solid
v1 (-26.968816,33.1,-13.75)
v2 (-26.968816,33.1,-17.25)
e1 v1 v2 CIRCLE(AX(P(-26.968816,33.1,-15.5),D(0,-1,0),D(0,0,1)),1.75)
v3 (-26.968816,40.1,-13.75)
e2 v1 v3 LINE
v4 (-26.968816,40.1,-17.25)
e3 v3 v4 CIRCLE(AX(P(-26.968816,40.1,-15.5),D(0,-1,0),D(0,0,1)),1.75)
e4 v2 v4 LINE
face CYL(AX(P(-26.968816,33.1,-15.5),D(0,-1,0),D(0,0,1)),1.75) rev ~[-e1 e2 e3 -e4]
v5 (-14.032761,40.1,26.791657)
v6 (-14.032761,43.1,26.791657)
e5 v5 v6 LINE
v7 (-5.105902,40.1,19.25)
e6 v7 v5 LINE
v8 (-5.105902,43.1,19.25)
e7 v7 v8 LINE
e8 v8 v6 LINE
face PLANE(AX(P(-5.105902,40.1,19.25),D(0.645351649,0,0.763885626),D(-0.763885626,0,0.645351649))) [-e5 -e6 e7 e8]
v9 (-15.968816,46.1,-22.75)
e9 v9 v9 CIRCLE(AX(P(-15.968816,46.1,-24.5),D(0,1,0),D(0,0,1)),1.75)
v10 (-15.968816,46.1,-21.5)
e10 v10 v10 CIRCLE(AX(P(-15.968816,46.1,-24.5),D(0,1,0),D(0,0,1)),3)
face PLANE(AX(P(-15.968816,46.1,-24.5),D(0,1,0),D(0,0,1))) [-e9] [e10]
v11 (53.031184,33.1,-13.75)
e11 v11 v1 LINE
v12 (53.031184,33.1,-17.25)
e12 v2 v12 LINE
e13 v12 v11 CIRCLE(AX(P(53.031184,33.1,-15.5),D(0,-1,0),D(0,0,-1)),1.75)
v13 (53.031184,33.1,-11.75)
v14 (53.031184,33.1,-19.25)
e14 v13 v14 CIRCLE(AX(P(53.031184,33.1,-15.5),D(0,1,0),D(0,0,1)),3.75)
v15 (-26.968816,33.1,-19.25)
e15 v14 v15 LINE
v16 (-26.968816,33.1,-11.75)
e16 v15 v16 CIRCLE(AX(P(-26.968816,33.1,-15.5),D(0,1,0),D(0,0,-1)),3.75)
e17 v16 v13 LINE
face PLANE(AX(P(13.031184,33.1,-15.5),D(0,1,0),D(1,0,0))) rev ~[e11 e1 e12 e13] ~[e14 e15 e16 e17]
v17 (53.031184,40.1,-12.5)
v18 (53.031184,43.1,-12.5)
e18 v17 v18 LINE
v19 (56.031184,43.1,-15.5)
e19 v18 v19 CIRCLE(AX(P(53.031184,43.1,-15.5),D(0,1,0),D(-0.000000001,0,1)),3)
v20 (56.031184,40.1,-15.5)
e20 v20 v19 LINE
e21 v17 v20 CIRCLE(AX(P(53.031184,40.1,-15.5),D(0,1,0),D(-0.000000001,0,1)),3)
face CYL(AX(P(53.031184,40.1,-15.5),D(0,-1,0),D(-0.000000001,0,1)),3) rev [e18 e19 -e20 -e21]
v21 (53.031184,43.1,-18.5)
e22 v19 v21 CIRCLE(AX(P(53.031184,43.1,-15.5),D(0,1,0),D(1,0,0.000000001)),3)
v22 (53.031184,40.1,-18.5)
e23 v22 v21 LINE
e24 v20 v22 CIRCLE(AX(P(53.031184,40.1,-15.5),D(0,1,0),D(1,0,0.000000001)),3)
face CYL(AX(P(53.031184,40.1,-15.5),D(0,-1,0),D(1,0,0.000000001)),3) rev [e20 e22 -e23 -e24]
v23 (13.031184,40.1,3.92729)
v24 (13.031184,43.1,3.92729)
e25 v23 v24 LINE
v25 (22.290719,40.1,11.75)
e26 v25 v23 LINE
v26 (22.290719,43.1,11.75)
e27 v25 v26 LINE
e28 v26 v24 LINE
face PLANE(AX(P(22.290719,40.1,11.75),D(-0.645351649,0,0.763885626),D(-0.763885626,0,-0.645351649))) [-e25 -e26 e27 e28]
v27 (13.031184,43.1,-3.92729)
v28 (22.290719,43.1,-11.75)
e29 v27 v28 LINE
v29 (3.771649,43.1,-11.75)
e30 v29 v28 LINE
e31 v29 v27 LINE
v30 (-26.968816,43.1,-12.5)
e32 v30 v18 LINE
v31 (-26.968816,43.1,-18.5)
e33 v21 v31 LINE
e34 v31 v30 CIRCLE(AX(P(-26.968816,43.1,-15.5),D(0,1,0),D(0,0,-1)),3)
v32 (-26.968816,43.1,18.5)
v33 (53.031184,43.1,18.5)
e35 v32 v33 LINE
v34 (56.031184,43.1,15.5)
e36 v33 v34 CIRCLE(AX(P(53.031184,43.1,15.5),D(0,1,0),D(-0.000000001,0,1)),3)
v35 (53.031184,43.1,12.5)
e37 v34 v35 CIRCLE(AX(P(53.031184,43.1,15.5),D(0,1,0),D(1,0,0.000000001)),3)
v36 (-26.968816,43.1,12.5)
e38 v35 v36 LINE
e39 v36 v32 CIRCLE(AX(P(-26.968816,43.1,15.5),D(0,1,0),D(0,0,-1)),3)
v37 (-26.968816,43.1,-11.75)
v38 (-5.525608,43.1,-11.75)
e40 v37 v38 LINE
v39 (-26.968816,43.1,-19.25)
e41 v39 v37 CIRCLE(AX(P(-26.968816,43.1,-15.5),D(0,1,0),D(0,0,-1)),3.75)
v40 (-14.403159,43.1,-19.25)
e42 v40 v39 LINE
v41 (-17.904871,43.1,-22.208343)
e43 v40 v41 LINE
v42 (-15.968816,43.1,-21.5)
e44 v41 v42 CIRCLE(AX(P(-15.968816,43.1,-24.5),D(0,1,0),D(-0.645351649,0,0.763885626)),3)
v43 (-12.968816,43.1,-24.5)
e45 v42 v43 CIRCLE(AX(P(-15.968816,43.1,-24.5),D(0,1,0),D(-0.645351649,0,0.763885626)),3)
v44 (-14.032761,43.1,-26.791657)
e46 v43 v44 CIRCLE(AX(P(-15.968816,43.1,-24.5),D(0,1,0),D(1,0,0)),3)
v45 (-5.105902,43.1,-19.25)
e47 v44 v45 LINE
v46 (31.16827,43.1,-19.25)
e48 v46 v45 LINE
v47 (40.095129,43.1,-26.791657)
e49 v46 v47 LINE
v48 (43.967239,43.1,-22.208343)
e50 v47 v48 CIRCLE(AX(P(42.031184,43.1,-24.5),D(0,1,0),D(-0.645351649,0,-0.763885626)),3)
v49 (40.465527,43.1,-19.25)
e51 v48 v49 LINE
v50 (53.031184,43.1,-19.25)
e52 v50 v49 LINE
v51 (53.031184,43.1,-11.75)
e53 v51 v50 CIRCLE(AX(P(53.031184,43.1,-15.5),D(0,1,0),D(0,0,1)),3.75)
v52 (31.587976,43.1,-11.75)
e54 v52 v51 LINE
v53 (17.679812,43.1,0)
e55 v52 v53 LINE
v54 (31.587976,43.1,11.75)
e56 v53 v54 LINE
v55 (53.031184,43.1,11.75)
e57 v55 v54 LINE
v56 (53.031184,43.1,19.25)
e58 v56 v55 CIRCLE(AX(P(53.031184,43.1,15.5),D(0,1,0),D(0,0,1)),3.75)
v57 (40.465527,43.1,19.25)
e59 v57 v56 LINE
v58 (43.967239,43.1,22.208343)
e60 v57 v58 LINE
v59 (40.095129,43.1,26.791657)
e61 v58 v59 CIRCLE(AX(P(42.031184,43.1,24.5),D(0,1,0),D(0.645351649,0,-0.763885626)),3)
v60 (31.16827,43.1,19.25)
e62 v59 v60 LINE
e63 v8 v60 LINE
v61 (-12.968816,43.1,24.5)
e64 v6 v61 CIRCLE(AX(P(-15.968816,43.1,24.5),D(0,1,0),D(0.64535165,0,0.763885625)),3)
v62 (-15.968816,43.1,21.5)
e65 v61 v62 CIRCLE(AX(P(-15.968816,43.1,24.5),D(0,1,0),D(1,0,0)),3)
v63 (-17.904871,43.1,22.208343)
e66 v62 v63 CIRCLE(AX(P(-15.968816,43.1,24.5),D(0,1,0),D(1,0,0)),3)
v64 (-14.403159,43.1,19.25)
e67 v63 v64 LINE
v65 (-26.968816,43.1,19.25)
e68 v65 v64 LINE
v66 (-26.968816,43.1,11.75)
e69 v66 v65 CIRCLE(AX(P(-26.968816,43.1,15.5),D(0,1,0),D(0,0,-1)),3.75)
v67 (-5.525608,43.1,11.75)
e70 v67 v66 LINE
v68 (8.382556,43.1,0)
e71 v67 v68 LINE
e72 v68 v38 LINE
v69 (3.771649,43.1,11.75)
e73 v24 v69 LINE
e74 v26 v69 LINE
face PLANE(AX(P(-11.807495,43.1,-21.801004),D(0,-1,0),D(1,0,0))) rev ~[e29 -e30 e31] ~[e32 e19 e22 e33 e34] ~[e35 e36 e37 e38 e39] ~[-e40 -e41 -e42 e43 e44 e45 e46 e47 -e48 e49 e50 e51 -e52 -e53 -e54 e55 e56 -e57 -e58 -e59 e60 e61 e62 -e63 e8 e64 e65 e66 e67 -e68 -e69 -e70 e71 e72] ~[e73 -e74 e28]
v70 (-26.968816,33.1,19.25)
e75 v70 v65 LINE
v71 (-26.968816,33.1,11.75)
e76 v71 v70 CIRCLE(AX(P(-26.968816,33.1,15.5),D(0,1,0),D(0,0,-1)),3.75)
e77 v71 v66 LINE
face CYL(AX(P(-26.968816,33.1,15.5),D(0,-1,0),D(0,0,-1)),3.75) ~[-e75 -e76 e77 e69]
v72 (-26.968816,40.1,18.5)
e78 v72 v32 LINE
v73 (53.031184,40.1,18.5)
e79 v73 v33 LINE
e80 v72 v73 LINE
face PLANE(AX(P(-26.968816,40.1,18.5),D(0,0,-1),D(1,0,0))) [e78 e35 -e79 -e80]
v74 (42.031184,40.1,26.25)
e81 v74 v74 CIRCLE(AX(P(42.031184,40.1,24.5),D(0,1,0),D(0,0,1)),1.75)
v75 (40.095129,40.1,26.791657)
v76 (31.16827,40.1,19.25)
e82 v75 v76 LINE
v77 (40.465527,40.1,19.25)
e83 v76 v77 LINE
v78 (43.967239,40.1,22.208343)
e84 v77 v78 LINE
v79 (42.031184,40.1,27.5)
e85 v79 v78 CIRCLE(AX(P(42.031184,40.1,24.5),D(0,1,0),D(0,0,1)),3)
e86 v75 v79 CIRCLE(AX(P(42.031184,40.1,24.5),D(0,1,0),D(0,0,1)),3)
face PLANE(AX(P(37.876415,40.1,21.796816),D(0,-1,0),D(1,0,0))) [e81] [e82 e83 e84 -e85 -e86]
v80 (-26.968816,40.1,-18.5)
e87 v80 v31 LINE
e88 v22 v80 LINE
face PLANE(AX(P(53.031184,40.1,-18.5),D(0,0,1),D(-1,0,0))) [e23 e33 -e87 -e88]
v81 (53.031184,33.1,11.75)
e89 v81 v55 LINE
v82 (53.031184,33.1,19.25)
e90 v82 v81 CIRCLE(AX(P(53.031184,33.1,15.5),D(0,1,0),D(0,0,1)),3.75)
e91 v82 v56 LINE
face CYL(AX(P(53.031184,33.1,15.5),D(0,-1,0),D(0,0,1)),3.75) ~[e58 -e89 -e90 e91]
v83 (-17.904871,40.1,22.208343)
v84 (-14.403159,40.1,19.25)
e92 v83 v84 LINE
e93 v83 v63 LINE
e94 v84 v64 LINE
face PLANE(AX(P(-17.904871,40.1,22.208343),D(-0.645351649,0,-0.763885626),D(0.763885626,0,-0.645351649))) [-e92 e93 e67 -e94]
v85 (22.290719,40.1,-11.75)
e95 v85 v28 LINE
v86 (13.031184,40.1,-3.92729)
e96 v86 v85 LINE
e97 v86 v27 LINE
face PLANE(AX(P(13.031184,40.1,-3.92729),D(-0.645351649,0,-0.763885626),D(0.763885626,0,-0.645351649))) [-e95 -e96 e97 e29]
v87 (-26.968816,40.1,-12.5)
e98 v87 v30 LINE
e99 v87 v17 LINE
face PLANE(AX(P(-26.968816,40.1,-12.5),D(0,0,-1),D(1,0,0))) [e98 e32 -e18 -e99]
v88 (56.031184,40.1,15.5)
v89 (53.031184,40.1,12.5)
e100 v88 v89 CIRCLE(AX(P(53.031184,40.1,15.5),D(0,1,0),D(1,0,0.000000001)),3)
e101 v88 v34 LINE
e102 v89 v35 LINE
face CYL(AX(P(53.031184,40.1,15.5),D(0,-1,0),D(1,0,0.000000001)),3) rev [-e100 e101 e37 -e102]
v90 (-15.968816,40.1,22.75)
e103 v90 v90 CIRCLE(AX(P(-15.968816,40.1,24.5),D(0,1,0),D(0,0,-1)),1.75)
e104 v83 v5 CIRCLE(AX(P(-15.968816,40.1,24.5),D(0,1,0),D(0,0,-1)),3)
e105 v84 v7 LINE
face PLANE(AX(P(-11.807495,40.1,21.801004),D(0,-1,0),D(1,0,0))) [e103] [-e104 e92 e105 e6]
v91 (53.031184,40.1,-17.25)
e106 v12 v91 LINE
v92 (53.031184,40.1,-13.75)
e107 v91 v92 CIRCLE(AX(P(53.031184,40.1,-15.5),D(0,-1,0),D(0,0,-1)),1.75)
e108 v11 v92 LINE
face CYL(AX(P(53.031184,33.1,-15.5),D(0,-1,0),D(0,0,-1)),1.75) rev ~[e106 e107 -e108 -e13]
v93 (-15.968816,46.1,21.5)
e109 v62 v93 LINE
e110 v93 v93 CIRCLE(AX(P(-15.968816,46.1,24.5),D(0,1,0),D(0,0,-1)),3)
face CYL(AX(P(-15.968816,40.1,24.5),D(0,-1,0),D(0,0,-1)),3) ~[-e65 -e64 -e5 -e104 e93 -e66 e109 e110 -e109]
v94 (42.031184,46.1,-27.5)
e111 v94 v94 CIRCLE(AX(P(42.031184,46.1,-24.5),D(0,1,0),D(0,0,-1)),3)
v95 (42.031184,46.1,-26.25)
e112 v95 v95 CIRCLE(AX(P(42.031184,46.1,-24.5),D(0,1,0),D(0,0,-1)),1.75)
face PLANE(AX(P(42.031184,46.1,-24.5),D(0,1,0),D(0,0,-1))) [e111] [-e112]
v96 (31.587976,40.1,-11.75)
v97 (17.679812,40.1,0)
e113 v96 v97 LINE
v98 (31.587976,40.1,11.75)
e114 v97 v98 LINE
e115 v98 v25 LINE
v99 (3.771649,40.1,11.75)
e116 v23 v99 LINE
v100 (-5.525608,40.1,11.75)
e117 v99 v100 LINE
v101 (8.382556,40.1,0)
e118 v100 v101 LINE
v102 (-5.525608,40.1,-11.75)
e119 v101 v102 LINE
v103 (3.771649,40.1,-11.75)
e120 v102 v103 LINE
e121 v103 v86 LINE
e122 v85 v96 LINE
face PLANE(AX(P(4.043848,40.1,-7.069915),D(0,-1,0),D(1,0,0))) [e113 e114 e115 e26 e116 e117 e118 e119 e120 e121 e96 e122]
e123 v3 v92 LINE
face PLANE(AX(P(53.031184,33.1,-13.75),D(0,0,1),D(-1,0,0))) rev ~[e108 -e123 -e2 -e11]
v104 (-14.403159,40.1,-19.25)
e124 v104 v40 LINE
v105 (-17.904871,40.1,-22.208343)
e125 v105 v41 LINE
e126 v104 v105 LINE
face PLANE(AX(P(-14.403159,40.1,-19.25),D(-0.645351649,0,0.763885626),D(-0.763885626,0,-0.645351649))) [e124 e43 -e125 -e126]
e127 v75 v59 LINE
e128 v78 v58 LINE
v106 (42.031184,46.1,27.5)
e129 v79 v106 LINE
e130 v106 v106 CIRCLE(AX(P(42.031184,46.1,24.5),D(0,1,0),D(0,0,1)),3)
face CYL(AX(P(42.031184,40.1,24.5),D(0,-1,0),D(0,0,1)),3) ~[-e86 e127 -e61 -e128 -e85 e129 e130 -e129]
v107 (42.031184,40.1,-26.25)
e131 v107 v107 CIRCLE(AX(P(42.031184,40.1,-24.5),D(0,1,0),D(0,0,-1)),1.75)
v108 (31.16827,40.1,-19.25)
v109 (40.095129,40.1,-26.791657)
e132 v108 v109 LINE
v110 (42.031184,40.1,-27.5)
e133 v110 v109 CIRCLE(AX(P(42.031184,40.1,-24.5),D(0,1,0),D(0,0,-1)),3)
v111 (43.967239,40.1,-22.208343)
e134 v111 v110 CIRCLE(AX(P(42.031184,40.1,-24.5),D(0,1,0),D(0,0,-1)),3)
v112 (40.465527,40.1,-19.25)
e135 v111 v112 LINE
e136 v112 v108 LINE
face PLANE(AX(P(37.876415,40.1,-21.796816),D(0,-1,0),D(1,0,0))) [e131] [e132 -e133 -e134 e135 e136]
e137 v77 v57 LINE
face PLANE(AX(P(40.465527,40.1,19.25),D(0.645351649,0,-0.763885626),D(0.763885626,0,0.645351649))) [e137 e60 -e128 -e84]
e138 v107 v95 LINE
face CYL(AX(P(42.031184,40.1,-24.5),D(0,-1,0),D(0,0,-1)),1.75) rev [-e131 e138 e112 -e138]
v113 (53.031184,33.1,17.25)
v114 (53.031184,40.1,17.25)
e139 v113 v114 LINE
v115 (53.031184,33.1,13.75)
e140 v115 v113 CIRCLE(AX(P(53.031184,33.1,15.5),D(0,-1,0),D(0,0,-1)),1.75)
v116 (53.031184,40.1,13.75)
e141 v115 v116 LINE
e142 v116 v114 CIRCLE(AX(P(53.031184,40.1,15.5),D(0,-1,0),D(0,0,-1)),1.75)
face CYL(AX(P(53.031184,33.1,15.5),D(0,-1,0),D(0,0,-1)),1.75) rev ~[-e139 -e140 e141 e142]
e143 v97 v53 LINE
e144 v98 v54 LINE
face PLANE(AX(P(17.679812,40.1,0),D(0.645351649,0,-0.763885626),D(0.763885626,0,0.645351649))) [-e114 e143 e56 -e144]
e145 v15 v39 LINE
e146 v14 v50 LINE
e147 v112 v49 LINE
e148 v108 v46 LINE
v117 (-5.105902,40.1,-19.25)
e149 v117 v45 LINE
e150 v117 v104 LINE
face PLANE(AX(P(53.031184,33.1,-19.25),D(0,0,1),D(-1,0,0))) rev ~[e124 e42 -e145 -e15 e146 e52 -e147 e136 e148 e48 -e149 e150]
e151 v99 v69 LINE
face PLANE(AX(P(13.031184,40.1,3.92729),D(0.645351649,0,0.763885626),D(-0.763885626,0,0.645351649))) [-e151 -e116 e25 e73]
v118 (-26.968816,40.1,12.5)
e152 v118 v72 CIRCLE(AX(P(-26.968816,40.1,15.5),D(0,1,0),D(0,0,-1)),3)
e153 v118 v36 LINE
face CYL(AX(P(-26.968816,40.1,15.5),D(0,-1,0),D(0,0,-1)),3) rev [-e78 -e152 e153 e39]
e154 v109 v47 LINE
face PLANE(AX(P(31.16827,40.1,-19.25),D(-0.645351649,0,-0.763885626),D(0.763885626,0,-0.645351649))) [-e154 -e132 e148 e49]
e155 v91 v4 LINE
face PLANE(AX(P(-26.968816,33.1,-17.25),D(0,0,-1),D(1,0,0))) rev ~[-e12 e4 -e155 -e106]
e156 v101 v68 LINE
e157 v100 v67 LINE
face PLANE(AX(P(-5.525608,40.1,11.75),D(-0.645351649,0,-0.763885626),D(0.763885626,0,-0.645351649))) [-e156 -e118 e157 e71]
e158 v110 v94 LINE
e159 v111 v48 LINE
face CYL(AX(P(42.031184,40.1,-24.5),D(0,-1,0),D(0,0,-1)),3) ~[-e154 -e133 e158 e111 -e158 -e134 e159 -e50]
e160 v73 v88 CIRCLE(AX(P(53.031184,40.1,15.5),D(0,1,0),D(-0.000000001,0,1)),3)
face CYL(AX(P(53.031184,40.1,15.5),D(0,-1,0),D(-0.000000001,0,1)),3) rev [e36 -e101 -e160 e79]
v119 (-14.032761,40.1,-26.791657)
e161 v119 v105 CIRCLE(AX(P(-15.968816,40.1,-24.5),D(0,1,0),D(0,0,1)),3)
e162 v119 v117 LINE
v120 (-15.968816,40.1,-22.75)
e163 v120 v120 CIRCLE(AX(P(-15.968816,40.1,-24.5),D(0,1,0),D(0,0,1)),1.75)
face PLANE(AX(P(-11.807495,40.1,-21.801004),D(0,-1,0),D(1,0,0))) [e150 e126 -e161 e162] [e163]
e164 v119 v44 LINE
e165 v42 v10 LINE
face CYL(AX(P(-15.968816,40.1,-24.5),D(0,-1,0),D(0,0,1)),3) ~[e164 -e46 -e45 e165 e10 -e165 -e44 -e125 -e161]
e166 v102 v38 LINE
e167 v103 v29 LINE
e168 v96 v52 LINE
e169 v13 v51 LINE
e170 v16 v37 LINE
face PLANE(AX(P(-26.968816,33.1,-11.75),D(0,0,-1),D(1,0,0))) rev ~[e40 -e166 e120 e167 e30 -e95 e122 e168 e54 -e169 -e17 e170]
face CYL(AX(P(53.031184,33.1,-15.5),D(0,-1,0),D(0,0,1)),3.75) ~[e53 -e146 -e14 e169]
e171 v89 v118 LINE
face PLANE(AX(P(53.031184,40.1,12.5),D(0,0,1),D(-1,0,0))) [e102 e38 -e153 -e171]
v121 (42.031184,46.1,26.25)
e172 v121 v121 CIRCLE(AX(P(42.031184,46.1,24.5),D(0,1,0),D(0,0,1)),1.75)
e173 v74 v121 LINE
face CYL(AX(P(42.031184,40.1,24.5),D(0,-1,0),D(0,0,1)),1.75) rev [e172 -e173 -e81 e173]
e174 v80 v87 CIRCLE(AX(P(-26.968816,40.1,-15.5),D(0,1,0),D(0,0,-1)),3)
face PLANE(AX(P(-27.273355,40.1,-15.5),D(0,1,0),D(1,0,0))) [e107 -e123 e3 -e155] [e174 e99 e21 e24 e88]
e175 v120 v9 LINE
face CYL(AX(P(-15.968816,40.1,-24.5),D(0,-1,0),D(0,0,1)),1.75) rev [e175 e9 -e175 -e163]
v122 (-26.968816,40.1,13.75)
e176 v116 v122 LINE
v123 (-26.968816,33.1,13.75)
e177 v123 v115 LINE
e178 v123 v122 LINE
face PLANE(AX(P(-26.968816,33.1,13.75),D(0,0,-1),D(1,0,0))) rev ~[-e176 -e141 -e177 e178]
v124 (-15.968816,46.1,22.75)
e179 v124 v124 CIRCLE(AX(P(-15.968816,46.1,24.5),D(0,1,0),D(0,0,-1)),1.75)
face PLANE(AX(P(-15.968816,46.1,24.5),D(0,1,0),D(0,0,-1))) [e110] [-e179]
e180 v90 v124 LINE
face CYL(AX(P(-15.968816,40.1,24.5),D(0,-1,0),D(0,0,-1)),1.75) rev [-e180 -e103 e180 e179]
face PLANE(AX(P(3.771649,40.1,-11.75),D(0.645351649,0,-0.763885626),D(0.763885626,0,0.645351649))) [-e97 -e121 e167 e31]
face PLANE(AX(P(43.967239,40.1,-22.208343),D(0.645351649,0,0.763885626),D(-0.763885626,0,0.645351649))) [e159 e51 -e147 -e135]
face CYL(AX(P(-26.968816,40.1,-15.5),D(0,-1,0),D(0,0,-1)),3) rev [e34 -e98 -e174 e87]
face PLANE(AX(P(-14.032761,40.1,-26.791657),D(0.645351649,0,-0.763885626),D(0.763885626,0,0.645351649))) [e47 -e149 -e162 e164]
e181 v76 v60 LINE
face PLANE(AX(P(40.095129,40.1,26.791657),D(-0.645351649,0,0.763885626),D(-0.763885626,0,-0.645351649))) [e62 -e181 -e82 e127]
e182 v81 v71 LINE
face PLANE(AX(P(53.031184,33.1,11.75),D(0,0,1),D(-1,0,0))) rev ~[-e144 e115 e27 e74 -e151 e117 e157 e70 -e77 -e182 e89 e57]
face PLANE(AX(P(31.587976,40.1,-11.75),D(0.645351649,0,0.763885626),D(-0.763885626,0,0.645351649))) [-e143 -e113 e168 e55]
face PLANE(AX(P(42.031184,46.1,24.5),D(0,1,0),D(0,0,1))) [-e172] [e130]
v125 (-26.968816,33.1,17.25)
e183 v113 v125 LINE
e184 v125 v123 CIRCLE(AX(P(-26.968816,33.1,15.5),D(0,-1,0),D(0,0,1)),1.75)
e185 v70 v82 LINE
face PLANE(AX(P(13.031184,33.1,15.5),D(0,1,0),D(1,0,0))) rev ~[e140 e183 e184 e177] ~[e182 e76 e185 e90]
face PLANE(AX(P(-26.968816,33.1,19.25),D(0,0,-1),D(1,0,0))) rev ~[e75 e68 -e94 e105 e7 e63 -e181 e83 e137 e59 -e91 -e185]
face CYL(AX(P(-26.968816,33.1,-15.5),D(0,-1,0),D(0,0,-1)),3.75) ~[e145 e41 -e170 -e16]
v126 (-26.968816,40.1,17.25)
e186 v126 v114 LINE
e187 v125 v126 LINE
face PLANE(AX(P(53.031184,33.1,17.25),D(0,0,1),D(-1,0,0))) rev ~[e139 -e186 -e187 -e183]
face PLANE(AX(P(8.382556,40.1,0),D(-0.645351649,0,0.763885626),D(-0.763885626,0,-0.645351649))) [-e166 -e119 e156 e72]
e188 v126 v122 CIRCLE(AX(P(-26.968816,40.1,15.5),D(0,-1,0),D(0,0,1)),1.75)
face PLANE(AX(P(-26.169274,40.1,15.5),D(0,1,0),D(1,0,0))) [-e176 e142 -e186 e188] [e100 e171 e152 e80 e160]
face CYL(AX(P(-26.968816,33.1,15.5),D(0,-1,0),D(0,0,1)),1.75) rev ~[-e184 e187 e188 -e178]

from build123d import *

# Parameters (mm, degrees)
BOSS_EXTRUDE1_DEPTH        = 10
BOSS_EXTRUDE1_2_DEPTH      = 10
CUT_EXTRUDE1_START         = -3
CUT_EXTRUDE1_DEPTH         = 3
BOSS_EXTRUDE2_DEPTH        = 3
BOSS_EXTRUDE2_DEPTH_BACK   = 3
SKETCH4_R                  = 3
SKETCH4_R_2                = 1.75
BOSS_EXTRUDE2_2_DEPTH      = 3
BOSS_EXTRUDE2_2_DEPTH_BACK = 3
BOSS_EXTRUDE2_3_DEPTH      = 3
BOSS_EXTRUDE2_3_DEPTH_BACK = 3
BOSS_EXTRUDE2_4_DEPTH      = 3
BOSS_EXTRUDE2_4_DEPTH_BACK = 3
BOSS_EXTRUDE3_DEPTH        = 3


with BuildPart() as part:
    # Sketch2 → Boss-Extrude1 (new body)
    with BuildSketch(Plane(origin=(0, 33.1, 0), x_dir=(1, 0, 0), z_dir=(0, 1, 0))):
        with BuildLine():
            ThreePointArc((53.031183993, 11.75), (56.781183993, 15.5), (53.031183993, 19.25))
            Line((53.031183993, 19.25), (-26.968816007, 19.25))
            ThreePointArc((-26.968816007, 19.25), (-30.718816007, 15.5), (-26.968816007, 11.75))
            Line((-26.968816007, 11.75), (53.031183993, 11.75))
        make_face()
        with BuildLine():
            ThreePointArc((-26.968816007, 13.75), (-28.718816007, 15.5), (-26.968816007, 17.25))
            Line((-26.968816007, 17.25), (53.031183993, 17.25))
            ThreePointArc((53.031183993, 17.25), (54.781183993, 15.5), (53.031183993, 13.75))
            Line((53.031183993, 13.75), (-26.968816007, 13.75))
        make_face(mode=Mode.SUBTRACT)
    extrude(amount=BOSS_EXTRUDE1_DEPTH)


with BuildPart() as body_2:
    # Sketch2 → Boss-Extrude1 2 (new body)
    with BuildSketch(Plane(origin=(0, 33.1, 0), x_dir=(1, 0, 0), z_dir=(0, 1, 0))):
        with BuildLine():
            ThreePointArc((-26.968816007, -11.75), (-30.718816007, -15.5), (-26.968816007, -19.25))
            Line((-26.968816007, -19.25), (53.031183993, -19.25))
            ThreePointArc((53.031183993, -19.25), (56.781183993, -15.5), (53.031183993, -11.75))
            Line((53.031183993, -11.75), (-26.968816007, -11.75))
        make_face()
        with BuildLine():
            ThreePointArc((-26.968816007, -17.25), (-28.718816007, -15.5), (-26.968816007, -13.75))
            Line((-26.968816007, -13.75), (53.031183993, -13.75))
            ThreePointArc((53.031183993, -13.75), (54.781183993, -15.5), (53.031183993, -17.25))
            Line((53.031183993, -17.25), (-26.968816007, -17.25))
        make_face(mode=Mode.SUBTRACT)
    extrude(amount=BOSS_EXTRUDE1_2_DEPTH)


with BuildPart() as cut_extrude1_tool:
    # Sketch3 → Cut-Extrude1 (new body)
    with BuildSketch(Plane(origin=(0, 43.1, 0), x_dir=(1, 0, 0), z_dir=(0, 1, 0)).offset(CUT_EXTRUDE1_START)):
        with BuildLine():
            ThreePointArc((-26.968816007, 13.75), (-28.718816007, 15.5), (-26.968816007, 17.25))
            Line((-26.968816007, 17.25), (-24.532117421, 17.25))
            ThreePointArc((-24.532117421, 17.25), (-25.599509613, 18.169269563), (-26.968816007, 18.5))
            ThreePointArc((-26.968816007, 18.5), (-29.968816007, 15.5), (-26.968816007, 12.5))
            ThreePointArc((-26.968816007, 12.5), (-25.599509613, 12.830730437), (-24.532117421, 13.75))
            Line((-24.532117421, 13.75), (-26.968816007, 13.75))
        make_face()
        with BuildLine():
            Line((-24.532117421, 17.25), (-26.968816007, 17.25))
            ThreePointArc((-26.968816007, 17.25), (-28.718816007, 15.5), (-26.968816007, 13.75))
            Line((-26.968816007, 13.75), (-24.532117421, 13.75))
            ThreePointArc((-24.532117421, 13.75), (-24.113111561, 14.580787228), (-23.968816007, 15.5))
            ThreePointArc((-23.968816007, 15.5), (-24.113111561, 16.419212772), (-24.532117421, 17.25))
        make_face()
        with BuildLine():
            ThreePointArc((-26.968816007, 18.5), (-25.599509613, 18.169269563), (-24.532117421, 17.25))
            Line((-24.532117421, 17.25), (50.594485407, 17.25))
            ThreePointArc((50.594485407, 17.25), (51.661877599, 18.169269563), (53.031183993, 18.5))
            Line((53.031183993, 18.5), (-26.968816007, 18.5))
        make_face()
        with BuildLine():
            Line((50.594485407, 13.75), (-24.532117421, 13.75))
            ThreePointArc((-24.532117421, 13.75), (-25.599509613, 12.830730437), (-26.968816007, 12.5))
            Line((-26.968816007, 12.5), (53.031183993, 12.5))
            ThreePointArc((53.031183993, 12.5), (51.661877599, 12.830730437), (50.594485407, 13.75))
        make_face()
        with BuildLine():
            ThreePointArc((53.031183993, 18.5), (51.661877599, 18.169269563), (50.594485407, 17.25))
            Line((50.594485407, 17.25), (53.031183993, 17.25))
            ThreePointArc((53.031183993, 17.25), (54.781183993, 15.5), (53.031183993, 13.75))
            Line((53.031183993, 13.75), (50.594485407, 13.75))
            ThreePointArc((50.594485407, 13.75), (51.661877599, 12.830730437), (53.031183993, 12.5))
            ThreePointArc((53.031183993, 12.5), (55.152504337, 13.378679656), (56.031183993, 15.5))
            ThreePointArc((56.031183993, 15.5), (55.152504337, 17.621320344), (53.031183993, 18.5))
        make_face()
        with BuildLine():
            Line((53.031183993, 17.25), (50.594485407, 17.25))
            ThreePointArc((50.594485407, 17.25), (50.031183993, 15.5), (50.594485407, 13.75))
            Line((50.594485407, 13.75), (53.031183993, 13.75))
            ThreePointArc((53.031183993, 13.75), (54.781183993, 15.5), (53.031183993, 17.25))
        make_face()
        with BuildLine():
            ThreePointArc((-26.968816007, -13.75), (-28.718816007, -15.5), (-26.968816007, -17.25))
            Line((-26.968816007, -17.25), (-24.532117421, -17.25))
            ThreePointArc((-24.532117421, -17.25), (-24.113111561, -16.419212772), (-23.968816007, -15.5))
            ThreePointArc((-23.968816007, -15.5), (-24.113111561, -14.580787228), (-24.532117421, -13.75))
            Line((-24.532117421, -13.75), (-26.968816007, -13.75))
        make_face()
        with BuildLine():
            Line((-24.532117421, -17.25), (-26.968816007, -17.25))
            ThreePointArc((-26.968816007, -17.25), (-28.718816007, -15.5), (-26.968816007, -13.75))
            Line((-26.968816007, -13.75), (-24.532117421, -13.75))
            ThreePointArc((-24.532117421, -13.75), (-25.599509613, -12.830730437), (-26.968816007, -12.5))
            ThreePointArc((-26.968816007, -12.5), (-29.968816007, -15.5), (-26.968816007, -18.5))
            ThreePointArc((-26.968816007, -18.5), (-25.599509613, -18.169269563), (-24.532117421, -17.25))
        make_face()
        with BuildLine():
            ThreePointArc((-26.968816007, -12.5), (-25.599509613, -12.830730437), (-24.532117421, -13.75))
            Line((-24.532117421, -13.75), (50.594485407, -13.75))
            ThreePointArc((50.594485407, -13.75), (51.661877599, -12.830730437), (53.031183993, -12.5))
            Line((53.031183993, -12.5), (-26.968816007, -12.5))
        make_face()
        with BuildLine():
            Line((50.594485407, -17.25), (-24.532117421, -17.25))
            ThreePointArc((-24.532117421, -17.25), (-25.599509613, -18.169269563), (-26.968816007, -18.5))
            Line((-26.968816007, -18.5), (53.031183993, -18.5))
            ThreePointArc((53.031183993, -18.5), (51.661877599, -18.169269563), (50.594485407, -17.25))
        make_face()
        with BuildLine():
            ThreePointArc((50.594485407, -13.75), (50.031183993, -15.5), (50.594485407, -17.25))
            Line((50.594485407, -17.25), (53.031183993, -17.25))
            ThreePointArc((53.031183993, -17.25), (54.781183993, -15.5), (53.031183993, -13.75))
            Line((53.031183993, -13.75), (50.594485407, -13.75))
        make_face()
        with BuildLine():
            Line((53.031183993, -17.25), (50.594485407, -17.25))
            ThreePointArc((50.594485407, -17.25), (51.661877599, -18.169269563), (53.031183993, -18.5))
            ThreePointArc((53.031183993, -18.5), (55.152504337, -17.621320344), (56.031183993, -15.5))
            ThreePointArc((56.031183993, -15.5), (55.152504337, -13.378679656), (53.031183993, -12.5))
            ThreePointArc((53.031183993, -12.5), (51.661877599, -12.830730437), (50.594485407, -13.75))
            Line((50.594485407, -13.75), (53.031183993, -13.75))
            ThreePointArc((53.031183993, -13.75), (54.781183993, -15.5), (53.031183993, -17.25))
        make_face()
    extrude(amount=CUT_EXTRUDE1_DEPTH)


with BuildPart() as part_1:
    add(part.part)

    # Cut-Extrude1: cut by cut_extrude1_tool
    add(cut_extrude1_tool.part, mode=Mode.SUBTRACT)



with BuildPart() as body_2_1:
    add(body_2.part)

    # Cut-Extrude1: cut by cut_extrude1_tool
    add(cut_extrude1_tool.part, mode=Mode.SUBTRACT)


with BuildPart() as body_3:
    # Sketch4 → Boss-Extrude2 (new, two sides: drawn at the far end of the back side and taken through both)
    with BuildSketch(Plane(origin=(0, 43.1, 0), x_dir=(1, 0, 0), z_dir=(0, 1, 0)).offset(-BOSS_EXTRUDE2_DEPTH_BACK)):
        with Locations(Location((-15.968816007, 24.5, 0), (0, 0, 270))):
            Circle(SKETCH4_R)
        with Locations(Location((-15.968816007, 24.5, 0), (0, 0, 270))):
            Circle(SKETCH4_R_2, mode=Mode.SUBTRACT)
    extrude(amount=BOSS_EXTRUDE2_DEPTH + BOSS_EXTRUDE2_DEPTH_BACK)


with BuildPart() as body_4:
    # Sketch4 → Boss-Extrude2 2 (new, two sides: drawn at the far end of the back side and taken through both)
    with BuildSketch(Plane(origin=(0, 43.1, 0), x_dir=(1, 0, 0), z_dir=(0, 1, 0)).offset(-BOSS_EXTRUDE2_2_DEPTH_BACK)):
        with Locations(Location((42.031183993, 24.5, 0), (0, 0, 90))):
            Circle(SKETCH4_R)
        with Locations(Location((42.031183993, 24.5, 0), (0, 0, 90))):
            Circle(SKETCH4_R_2, mode=Mode.SUBTRACT)
    extrude(amount=BOSS_EXTRUDE2_2_DEPTH + BOSS_EXTRUDE2_2_DEPTH_BACK)


with BuildPart() as body_5:
    # Sketch4 → Boss-Extrude2 3 (new, two sides: drawn at the far end of the back side and taken through both)
    with BuildSketch(Plane(origin=(0, 43.1, 0), x_dir=(1, 0, 0), z_dir=(0, 1, 0)).offset(-BOSS_EXTRUDE2_3_DEPTH_BACK)):
        with Locations(Location((42.031183993, -24.5, 0), (0, 0, 270))):
            Circle(SKETCH4_R)
        with Locations(Location((42.031183993, -24.5, 0), (0, 0, 270))):
            Circle(SKETCH4_R_2, mode=Mode.SUBTRACT)
    extrude(amount=BOSS_EXTRUDE2_3_DEPTH + BOSS_EXTRUDE2_3_DEPTH_BACK)


with BuildPart() as body_6:
    # Sketch4 → Boss-Extrude2 4 (new, two sides: drawn at the far end of the back side and taken through both)
    with BuildSketch(Plane(origin=(0, 43.1, 0), x_dir=(1, 0, 0), z_dir=(0, 1, 0)).offset(-BOSS_EXTRUDE2_4_DEPTH_BACK)):
        with Locations(Location((-15.968816007, -24.5, 0), (0, 0, 90))):
            Circle(SKETCH4_R)
        with Locations(Location((-15.968816007, -24.5, 0), (0, 0, 90))):
            Circle(SKETCH4_R_2, mode=Mode.SUBTRACT)
    extrude(amount=BOSS_EXTRUDE2_4_DEPTH + BOSS_EXTRUDE2_4_DEPTH_BACK)


with BuildPart() as part_2:
    add(part_1.part)

    add(body_2_1.part)  # Boss-Extrude3 merges body 2

    add(body_3.part)  # Boss-Extrude3 merges body 3

    add(body_4.part)  # Boss-Extrude3 merges body 4

    add(body_5.part)  # Boss-Extrude3 merges body 5

    add(body_6.part)  # Boss-Extrude3 merges body 6
    # Sketch5 → Boss-Extrude3 (add)
    with BuildSketch(Plane.XZ.offset(-40.1)):
        with BuildLine():
            Line((-14.403158686, -19.25), (-17.904870954, -22.208343123))
            ThreePointArc((-17.904870954, -22.208343123), (-14.705519692, -21.778955638), (-12.968816007, -24.5))
            ThreePointArc((-12.968816007, -24.5), (-13.247771645, -25.763296315), (-14.032761059, -26.791656877))
            Line((-14.032761059, -26.791656877), (-5.105901899, -19.25))
            Line((-5.105901899, -19.25), (-14.403158686, -19.25))
        make_face()
        Polygon((8.3825556, 0), (-5.525607665, -11.75), (3.771649121, -11.75), (13.031183993, -3.927289505), align=None)
        Polygon((13.031183993, 3.927289505), (8.3825556, 0), (13.031183993, -3.927289505), (17.679812386, 0), align=None)
        Polygon((17.679812386, 0), (13.031183993, -3.927289505), (22.290718865, -11.75), (31.587975652, -11.75), align=None)
        with BuildLine():
            Line((40.465526672, -19.25), (31.168269886, -19.25))
            Line((31.168269886, -19.25), (40.095129046, -26.791656877))
            ThreePointArc((40.095129046, -26.791656877), (39.739527117, -22.563945052), (43.967238941, -22.208343123))
            Line((43.967238941, -22.208343123), (40.465526672, -19.25))
        make_face()
        Polygon((-5.525607665, 11.75), (8.3825556, 0), (13.031183993, 3.927289505), (3.771649121, 11.75), align=None)
        with BuildLine():
            Line((-17.904870954, 22.208343123), (-14.403158686, 19.25))
            Line((-14.403158686, 19.25), (-5.105901899, 19.25))
            Line((-5.105901899, 19.25), (-14.032761059, 26.791656877))
            ThreePointArc((-14.032761059, 26.791656877), (-13.247771645, 25.763296315), (-12.968816007, 24.5))
            ThreePointArc((-12.968816007, 24.5), (-14.705519692, 21.778955638), (-17.904870954, 22.208343123))
        make_face()
        Polygon((22.290718865, 11.75), (13.031183993, 3.927289505), (17.679812386, 0), (31.587975652, 11.75), align=None)
        with BuildLine():
            Line((40.095129046, 26.791656877), (31.168269886, 19.25))
            Line((31.168269886, 19.25), (40.465526672, 19.25))
            Line((40.465526672, 19.25), (43.967238941, 22.208343123))
            ThreePointArc((43.967238941, 22.208343123), (39.739527117, 22.563945052), (40.095129046, 26.791656877))
        make_face()
    extrude(amount=-BOSS_EXTRUDE3_DEPTH)


solid = part_2.part
